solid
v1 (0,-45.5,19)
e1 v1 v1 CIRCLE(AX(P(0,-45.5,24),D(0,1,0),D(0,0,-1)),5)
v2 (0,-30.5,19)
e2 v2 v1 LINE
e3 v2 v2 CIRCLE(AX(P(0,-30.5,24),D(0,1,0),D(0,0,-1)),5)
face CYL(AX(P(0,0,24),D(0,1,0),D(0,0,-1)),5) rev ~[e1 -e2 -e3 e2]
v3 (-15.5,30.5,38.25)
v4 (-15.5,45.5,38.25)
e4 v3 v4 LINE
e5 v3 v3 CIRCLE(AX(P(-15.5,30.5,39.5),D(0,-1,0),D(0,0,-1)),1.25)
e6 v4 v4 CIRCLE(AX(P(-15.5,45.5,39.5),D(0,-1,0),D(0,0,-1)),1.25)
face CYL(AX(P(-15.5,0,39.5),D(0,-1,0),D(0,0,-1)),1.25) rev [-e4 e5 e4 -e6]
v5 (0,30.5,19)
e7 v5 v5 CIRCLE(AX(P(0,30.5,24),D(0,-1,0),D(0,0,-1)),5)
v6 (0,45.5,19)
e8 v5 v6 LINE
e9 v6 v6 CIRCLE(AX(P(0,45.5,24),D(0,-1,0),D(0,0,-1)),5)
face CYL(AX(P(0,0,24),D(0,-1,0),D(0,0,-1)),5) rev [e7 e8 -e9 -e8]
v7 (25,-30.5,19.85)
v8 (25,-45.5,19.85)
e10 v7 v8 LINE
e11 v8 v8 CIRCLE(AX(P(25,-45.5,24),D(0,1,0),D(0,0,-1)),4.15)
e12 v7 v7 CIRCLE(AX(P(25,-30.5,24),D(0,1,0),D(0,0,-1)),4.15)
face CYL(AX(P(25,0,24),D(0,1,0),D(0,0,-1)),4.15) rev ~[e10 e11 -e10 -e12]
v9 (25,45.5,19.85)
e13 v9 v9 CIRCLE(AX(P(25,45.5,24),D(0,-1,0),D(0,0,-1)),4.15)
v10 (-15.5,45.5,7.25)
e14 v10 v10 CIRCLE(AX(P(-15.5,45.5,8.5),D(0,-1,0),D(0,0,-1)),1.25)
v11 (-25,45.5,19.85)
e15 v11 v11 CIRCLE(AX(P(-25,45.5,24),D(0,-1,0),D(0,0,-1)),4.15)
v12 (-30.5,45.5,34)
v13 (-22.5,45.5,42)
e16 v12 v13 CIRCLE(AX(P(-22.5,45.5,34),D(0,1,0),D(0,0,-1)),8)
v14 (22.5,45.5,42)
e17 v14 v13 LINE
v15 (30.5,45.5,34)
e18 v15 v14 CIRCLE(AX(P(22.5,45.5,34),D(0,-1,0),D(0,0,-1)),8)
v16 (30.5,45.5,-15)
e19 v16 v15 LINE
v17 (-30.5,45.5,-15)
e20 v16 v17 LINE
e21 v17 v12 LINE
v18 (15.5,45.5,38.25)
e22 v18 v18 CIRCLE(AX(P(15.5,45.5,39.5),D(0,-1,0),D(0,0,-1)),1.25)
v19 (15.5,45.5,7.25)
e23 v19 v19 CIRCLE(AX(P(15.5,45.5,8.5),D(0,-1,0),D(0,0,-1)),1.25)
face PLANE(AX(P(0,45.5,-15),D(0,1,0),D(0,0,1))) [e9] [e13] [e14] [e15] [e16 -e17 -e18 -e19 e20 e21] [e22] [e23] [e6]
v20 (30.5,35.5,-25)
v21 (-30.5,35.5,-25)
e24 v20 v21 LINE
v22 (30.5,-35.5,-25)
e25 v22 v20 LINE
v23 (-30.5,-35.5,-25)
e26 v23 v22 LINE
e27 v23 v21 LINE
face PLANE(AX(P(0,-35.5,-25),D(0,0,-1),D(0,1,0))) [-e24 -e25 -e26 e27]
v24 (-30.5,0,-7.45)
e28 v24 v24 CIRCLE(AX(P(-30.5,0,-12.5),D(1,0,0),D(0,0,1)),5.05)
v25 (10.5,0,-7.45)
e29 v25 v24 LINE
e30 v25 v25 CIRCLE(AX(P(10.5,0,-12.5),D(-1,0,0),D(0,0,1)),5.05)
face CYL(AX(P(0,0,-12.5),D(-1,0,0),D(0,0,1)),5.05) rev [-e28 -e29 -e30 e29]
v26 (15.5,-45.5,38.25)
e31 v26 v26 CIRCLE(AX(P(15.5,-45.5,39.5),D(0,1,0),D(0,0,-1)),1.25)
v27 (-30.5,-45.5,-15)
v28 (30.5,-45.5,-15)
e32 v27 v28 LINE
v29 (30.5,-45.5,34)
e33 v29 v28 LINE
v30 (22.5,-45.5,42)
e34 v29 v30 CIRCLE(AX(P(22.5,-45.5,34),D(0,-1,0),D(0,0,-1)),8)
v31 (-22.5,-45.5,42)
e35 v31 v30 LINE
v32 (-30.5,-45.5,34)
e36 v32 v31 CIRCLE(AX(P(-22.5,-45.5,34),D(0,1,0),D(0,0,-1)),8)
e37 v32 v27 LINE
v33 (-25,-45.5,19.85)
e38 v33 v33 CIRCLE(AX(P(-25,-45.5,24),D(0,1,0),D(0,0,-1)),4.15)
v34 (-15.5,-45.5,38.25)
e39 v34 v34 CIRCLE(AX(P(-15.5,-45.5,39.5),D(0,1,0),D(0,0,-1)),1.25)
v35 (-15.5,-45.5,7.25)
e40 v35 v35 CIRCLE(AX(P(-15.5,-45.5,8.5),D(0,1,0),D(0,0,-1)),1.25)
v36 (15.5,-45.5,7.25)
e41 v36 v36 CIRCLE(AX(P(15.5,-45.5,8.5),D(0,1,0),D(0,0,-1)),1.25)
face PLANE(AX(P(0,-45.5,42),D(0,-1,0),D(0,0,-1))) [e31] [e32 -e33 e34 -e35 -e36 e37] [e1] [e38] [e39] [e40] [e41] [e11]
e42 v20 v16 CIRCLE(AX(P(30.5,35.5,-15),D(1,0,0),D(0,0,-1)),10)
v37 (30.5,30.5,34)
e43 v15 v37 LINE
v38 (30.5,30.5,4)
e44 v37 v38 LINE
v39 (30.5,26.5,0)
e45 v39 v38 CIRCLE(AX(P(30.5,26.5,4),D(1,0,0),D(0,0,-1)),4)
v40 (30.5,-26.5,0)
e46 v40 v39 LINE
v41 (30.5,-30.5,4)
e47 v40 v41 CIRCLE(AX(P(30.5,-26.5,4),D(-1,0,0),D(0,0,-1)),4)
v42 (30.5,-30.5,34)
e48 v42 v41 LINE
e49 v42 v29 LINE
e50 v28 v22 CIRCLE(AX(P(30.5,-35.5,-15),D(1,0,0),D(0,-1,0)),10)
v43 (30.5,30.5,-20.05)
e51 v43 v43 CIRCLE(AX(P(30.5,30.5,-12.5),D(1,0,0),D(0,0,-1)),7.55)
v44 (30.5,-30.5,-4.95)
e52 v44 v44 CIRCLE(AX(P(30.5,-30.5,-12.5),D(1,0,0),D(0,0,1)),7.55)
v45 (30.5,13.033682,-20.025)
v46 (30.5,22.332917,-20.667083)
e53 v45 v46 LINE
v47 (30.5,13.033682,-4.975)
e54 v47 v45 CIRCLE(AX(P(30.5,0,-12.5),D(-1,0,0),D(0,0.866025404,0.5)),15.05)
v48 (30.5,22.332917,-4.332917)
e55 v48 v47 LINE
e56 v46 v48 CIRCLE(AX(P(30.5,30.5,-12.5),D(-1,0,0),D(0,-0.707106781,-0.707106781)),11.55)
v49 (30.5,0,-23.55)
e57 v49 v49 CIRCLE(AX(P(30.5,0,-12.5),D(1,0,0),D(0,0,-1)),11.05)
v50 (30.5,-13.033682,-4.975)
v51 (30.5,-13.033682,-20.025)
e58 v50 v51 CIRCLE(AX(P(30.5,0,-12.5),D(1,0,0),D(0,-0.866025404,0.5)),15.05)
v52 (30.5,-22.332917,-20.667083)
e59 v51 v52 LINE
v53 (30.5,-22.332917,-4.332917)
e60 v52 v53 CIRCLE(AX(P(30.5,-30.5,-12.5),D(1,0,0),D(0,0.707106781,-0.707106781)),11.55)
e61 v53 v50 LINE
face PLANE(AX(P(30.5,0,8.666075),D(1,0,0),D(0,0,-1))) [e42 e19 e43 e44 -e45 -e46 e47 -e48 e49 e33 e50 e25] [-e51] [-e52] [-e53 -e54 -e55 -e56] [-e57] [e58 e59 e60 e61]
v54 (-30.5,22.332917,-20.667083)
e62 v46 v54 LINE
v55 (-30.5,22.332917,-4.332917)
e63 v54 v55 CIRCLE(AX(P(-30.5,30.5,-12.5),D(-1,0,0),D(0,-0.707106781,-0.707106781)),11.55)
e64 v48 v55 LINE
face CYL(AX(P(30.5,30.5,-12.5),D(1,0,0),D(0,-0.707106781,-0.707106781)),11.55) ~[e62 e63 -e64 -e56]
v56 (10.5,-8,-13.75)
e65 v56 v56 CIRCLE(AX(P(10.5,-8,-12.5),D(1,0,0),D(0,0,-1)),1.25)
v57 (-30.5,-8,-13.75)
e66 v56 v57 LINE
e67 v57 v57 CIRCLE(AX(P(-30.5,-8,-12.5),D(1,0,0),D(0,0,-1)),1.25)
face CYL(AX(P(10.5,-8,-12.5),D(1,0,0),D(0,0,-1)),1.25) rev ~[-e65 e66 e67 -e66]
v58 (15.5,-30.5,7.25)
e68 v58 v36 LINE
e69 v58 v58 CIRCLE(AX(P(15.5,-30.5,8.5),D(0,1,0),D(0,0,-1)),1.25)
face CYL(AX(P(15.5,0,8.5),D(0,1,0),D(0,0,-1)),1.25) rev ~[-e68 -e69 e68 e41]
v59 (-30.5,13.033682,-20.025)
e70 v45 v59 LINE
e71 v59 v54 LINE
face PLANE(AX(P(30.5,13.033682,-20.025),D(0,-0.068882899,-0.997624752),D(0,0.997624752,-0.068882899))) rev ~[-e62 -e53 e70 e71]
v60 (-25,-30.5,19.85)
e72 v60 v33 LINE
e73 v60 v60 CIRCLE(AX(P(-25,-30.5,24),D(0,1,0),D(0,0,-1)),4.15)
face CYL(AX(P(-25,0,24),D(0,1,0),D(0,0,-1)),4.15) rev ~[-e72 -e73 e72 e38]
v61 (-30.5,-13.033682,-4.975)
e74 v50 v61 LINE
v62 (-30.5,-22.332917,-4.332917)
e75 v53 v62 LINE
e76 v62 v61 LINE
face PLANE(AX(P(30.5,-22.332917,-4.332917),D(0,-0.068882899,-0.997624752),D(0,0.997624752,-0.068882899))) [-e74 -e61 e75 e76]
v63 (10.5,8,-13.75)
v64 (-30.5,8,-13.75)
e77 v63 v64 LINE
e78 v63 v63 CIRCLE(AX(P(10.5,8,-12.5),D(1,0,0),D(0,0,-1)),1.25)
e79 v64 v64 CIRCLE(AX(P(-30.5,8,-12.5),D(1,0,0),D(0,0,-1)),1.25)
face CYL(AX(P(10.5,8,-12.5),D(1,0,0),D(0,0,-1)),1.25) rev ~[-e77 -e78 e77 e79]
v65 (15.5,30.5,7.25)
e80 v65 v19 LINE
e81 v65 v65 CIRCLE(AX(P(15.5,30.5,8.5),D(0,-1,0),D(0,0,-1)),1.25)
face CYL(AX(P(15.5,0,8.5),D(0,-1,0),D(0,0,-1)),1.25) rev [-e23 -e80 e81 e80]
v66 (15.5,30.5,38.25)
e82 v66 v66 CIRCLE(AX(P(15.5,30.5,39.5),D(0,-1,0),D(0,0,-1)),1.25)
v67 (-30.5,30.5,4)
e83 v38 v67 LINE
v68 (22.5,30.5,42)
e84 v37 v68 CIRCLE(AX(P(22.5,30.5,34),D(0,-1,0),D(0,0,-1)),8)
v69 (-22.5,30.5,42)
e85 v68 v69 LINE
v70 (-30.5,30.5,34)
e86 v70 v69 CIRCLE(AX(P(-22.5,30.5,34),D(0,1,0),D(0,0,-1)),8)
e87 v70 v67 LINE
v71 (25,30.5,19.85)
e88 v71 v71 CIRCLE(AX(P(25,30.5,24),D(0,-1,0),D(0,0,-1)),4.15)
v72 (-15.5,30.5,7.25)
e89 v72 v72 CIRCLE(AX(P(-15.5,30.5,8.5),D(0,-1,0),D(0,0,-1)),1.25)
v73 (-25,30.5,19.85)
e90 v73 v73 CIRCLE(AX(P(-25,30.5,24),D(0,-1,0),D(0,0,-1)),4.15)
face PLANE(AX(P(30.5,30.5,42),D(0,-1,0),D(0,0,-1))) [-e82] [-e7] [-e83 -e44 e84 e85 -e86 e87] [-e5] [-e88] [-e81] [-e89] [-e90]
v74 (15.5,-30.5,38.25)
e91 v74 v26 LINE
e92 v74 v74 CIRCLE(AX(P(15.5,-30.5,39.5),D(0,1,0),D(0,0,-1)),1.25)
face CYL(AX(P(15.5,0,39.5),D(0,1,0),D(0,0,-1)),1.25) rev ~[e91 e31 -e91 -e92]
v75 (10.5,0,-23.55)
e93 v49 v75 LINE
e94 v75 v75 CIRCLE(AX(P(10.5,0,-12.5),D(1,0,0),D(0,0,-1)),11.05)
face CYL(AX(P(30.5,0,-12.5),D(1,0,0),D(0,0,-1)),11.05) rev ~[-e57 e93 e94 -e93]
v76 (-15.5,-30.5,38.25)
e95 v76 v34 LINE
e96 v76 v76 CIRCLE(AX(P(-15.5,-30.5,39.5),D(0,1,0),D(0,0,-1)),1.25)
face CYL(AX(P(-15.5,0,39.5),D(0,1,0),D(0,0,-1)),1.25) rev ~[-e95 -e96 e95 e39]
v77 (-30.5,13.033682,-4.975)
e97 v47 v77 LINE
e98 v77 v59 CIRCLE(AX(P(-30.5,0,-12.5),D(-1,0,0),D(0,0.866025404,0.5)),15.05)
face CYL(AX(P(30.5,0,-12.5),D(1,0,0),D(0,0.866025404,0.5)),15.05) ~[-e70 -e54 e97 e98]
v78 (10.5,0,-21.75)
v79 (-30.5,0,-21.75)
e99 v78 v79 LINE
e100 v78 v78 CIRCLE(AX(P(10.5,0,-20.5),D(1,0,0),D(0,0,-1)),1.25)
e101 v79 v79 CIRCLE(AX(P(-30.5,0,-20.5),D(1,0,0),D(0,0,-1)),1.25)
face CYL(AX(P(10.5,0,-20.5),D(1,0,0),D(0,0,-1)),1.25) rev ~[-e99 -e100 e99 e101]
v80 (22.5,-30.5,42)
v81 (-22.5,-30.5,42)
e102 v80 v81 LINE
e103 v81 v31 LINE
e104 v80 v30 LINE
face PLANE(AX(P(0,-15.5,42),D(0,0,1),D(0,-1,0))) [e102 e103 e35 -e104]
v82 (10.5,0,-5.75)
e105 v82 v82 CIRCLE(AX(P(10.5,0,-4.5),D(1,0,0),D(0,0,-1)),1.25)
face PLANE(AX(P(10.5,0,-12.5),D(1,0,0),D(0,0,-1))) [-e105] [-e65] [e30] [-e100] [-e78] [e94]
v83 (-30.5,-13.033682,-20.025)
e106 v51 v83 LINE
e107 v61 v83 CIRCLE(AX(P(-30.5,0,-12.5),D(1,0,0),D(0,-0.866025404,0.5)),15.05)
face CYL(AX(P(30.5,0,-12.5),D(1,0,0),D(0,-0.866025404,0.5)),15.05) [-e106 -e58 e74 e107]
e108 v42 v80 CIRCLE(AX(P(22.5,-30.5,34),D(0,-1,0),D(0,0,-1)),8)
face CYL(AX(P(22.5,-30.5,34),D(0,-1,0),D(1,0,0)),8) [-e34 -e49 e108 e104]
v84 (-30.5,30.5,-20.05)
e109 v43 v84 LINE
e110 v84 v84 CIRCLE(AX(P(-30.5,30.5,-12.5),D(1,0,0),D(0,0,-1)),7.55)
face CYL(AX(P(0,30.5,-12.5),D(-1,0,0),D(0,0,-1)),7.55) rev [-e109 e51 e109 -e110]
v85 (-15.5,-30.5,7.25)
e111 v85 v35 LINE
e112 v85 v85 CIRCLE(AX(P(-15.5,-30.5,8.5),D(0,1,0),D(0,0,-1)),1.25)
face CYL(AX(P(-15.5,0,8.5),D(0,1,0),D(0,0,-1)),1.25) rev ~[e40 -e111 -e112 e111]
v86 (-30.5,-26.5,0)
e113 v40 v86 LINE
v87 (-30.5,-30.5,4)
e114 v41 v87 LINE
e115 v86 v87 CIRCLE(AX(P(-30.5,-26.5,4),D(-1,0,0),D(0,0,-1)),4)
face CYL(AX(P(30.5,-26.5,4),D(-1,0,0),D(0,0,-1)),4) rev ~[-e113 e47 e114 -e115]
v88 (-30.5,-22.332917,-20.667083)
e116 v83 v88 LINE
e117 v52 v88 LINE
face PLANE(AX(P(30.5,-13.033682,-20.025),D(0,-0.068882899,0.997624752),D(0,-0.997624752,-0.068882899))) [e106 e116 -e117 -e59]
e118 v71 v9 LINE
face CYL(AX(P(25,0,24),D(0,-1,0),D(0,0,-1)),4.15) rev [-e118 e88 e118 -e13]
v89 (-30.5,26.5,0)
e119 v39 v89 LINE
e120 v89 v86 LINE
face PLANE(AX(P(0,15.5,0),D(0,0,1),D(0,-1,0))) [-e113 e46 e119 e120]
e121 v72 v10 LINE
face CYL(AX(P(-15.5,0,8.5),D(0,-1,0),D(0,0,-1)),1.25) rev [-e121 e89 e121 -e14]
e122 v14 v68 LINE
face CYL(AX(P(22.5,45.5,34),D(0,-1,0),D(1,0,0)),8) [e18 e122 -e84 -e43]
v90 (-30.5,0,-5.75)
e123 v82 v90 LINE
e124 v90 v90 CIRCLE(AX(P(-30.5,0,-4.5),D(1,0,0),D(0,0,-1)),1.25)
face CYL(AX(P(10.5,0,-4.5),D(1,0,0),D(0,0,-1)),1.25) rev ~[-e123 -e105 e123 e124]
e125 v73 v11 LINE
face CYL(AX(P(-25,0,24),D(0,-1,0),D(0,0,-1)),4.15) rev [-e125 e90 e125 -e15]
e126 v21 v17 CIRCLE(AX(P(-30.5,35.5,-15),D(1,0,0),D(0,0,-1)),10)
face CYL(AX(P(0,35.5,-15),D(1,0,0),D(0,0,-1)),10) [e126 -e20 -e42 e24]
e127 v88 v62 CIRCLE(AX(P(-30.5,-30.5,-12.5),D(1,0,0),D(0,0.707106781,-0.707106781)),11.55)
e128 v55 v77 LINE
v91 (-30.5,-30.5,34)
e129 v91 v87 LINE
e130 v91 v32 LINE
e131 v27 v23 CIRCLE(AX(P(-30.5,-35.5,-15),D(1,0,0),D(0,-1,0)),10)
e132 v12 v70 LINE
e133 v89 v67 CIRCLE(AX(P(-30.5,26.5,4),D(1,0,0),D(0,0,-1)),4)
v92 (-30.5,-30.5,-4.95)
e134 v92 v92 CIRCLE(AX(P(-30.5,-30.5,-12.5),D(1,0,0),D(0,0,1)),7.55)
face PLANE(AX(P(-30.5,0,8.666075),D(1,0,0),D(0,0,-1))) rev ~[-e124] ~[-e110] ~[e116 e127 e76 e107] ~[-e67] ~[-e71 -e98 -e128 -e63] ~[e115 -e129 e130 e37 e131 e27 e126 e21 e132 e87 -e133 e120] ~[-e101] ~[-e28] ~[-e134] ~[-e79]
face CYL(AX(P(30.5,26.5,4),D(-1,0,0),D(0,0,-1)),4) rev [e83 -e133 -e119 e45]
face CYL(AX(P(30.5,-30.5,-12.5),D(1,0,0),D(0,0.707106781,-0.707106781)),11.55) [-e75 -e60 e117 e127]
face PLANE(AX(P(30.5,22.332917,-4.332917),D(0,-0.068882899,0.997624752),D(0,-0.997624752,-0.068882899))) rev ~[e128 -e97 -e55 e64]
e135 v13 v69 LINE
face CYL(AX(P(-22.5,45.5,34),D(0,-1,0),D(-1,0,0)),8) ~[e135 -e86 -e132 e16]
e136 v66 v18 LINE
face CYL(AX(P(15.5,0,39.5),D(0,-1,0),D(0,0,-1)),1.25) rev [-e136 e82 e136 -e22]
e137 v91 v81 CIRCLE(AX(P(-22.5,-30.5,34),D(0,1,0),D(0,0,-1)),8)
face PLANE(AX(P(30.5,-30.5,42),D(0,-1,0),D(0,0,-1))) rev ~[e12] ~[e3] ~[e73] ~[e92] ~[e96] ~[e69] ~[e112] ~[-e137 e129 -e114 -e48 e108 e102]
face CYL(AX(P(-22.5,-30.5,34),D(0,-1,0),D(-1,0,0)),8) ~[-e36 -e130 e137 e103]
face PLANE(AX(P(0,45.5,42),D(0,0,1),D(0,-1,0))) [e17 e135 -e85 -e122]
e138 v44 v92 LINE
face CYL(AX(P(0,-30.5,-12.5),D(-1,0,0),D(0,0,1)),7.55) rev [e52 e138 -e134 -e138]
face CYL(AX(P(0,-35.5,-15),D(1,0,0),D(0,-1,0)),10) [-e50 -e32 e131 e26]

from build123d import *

# Parameters (mm, degrees)
SKETCH1_R                      = 5.05
SKETCH1_R_2                    = 7.55
BOSS_EXTRUDE1_DEPTH            = 30.5
CUT_EXTRUDE1_REACH             = 47.5
SKETCH2_R                      = 5
SKETCH2_R_2                    = 4.15
SKETCH2_R_3                    = 1.25
CUT_EXTRUDE1_DIRECTION_2_REACH = 47.5
CROQUIS4_W                     = 42
CROQUIS4_H                     = 61
CORTAR_EXTRUIR1_DEPTH          = 62
REDONDEO4_R                    = 4
REDONDEO5_R                    = 8
CROQUIS5_R                     = 11.05
CORTAR_EXTRUIR2_DEPTH          = 20
CROQUIS6_R                     = 1.25
CORTAR_EXTRUIR3_DEPTH          = 42
CORTAR_EXTRUIR4_DEPTH          = 61


with BuildPart() as part:
    # Sketch1 → Boss-Extrude1 (new body, symmetric)
    with BuildSketch(Plane(origin=(0, 0, 0), x_dir=(0, 0, -1), z_dir=(1, 0, 0))):
        with BuildLine():
            Line((0, 15.5), (0, -15.5))
            Line((0, -15.5), (-42, -15.5))
            Line((-42, -15.5), (-42, -45.5))
            Line((-42, -45.5), (15, -45.5))
            ThreePointArc((15, -45.5), (22.071067812, -42.571067812), (25, -35.5))
            Line((25, -35.5), (25, 35.5))
            ThreePointArc((25, 35.5), (22.071067812, 42.571067812), (15, 45.5))
            Line((15, 45.5), (-42, 45.5))
            Line((-42, 45.5), (-42, 15.5))
            Line((-42, 15.5), (0, 15.5))
        make_face()
        with Locations(Location((12.5, 0, 0), (0, 0, 180))):  # turned: the seam where the file's is
            Circle(SKETCH1_R, mode=Mode.SUBTRACT)
        with Locations((12.5, 30.5)):
            Circle(SKETCH1_R_2, mode=Mode.SUBTRACT)
        with Locations(Location((12.5, -30.5, 0), (0, 0, 180))):  # turned: the seam where the file's is
            Circle(SKETCH1_R_2, mode=Mode.SUBTRACT)
    extrude(amount=BOSS_EXTRUDE1_DEPTH, both=True)

    # Cut-Extrude1: up to this face of the body (flat: up to its plane)
    cut_extrude1_end = Plane(part.part.faces().sort_by_distance((0, 45.5, 13.5))[0])
    # Sketch2 → Cut-Extrude1 (cut, up to the picked face)
    with BuildSketch(Plane(origin=(0, 0, 0), x_dir=(1, 0, 0), z_dir=(0, 1, 0)), mode=Mode.PRIVATE) as cut_extrude1_sk1:
        with Locations(Location((0, -24, 0), (0, 0, 90))):  # turned: the seam where the file's is
            Circle(SKETCH2_R)
    cut_extrude1_tool1 = split(extrude(cut_extrude1_sk1.sketch, amount=CUT_EXTRUDE1_REACH, mode=Mode.PRIVATE), bisect_by=cut_extrude1_end, keep=Keep.BOTH, mode=Mode.PRIVATE)
    add(cut_extrude1_tool1.solids().sort_by(Axis((0, 0, 24), (0, 1, 0)))[0], mode=Mode.SUBTRACT)
    # Sketch2 → Cut-Extrude1 (cut, up to the picked face)
    with BuildSketch(Plane(origin=(0, 0, 0), x_dir=(1, 0, 0), z_dir=(0, 1, 0)), mode=Mode.PRIVATE) as cut_extrude1_sk2:
        with Locations(Location((25, -24, 0), (0, 0, 90))):  # turned: the seam where the file's is
            Circle(SKETCH2_R_2)
    cut_extrude1_tool2 = split(extrude(cut_extrude1_sk2.sketch, amount=CUT_EXTRUDE1_REACH, mode=Mode.PRIVATE), bisect_by=cut_extrude1_end, keep=Keep.BOTH, mode=Mode.PRIVATE)
    add(cut_extrude1_tool2.solids().sort_by(Axis((25, 0, 24), (0, 1, 0)))[0], mode=Mode.SUBTRACT)
    # Sketch2 → Cut-Extrude1 (cut, up to the picked face)
    with BuildSketch(Plane(origin=(0, 0, 0), x_dir=(1, 0, 0), z_dir=(0, 1, 0)), mode=Mode.PRIVATE) as cut_extrude1_sk3:
        with Locations(Location((-25, -24, 0), (0, 0, 90))):  # turned: the seam where the file's is
            Circle(SKETCH2_R_2)
    cut_extrude1_tool3 = split(extrude(cut_extrude1_sk3.sketch, amount=CUT_EXTRUDE1_REACH, mode=Mode.PRIVATE), bisect_by=cut_extrude1_end, keep=Keep.BOTH, mode=Mode.PRIVATE)
    add(cut_extrude1_tool3.solids().sort_by(Axis((-25, 0, 24), (0, 1, 0)))[0], mode=Mode.SUBTRACT)
    # Sketch2 → Cut-Extrude1 (cut, up to the picked face)
    with BuildSketch(Plane(origin=(0, 0, 0), x_dir=(1, 0, 0), z_dir=(0, 1, 0)), mode=Mode.PRIVATE) as cut_extrude1_sk4:
        with Locations(Location((15.5, -39.5, 0), (0, 0, 90))):  # turned: the seam where the file's is
            Circle(SKETCH2_R_3)
    cut_extrude1_tool4 = split(extrude(cut_extrude1_sk4.sketch, amount=CUT_EXTRUDE1_REACH, mode=Mode.PRIVATE), bisect_by=cut_extrude1_end, keep=Keep.BOTH, mode=Mode.PRIVATE)
    add(cut_extrude1_tool4.solids().sort_by(Axis((15.5, 0, 39.5), (0, 1, 0)))[0], mode=Mode.SUBTRACT)
    # Sketch2 → Cut-Extrude1 (cut, up to the picked face)
    with BuildSketch(Plane(origin=(0, 0, 0), x_dir=(1, 0, 0), z_dir=(0, 1, 0)), mode=Mode.PRIVATE) as cut_extrude1_sk5:
        with Locations(Location((-15.5, -39.5, 0), (0, 0, 90))):  # turned: the seam where the file's is
            Circle(SKETCH2_R_3)
    cut_extrude1_tool5 = split(extrude(cut_extrude1_sk5.sketch, amount=CUT_EXTRUDE1_REACH, mode=Mode.PRIVATE), bisect_by=cut_extrude1_end, keep=Keep.BOTH, mode=Mode.PRIVATE)
    add(cut_extrude1_tool5.solids().sort_by(Axis((-15.5, 0, 39.5), (0, 1, 0)))[0], mode=Mode.SUBTRACT)
    # Sketch2 → Cut-Extrude1 (cut, up to the picked face)
    with BuildSketch(Plane(origin=(0, 0, 0), x_dir=(1, 0, 0), z_dir=(0, 1, 0)), mode=Mode.PRIVATE) as cut_extrude1_sk6:
        with Locations(Location((-15.5, -8.5, 0), (0, 0, 90))):  # turned: the seam where the file's is
            Circle(SKETCH2_R_3)
    cut_extrude1_tool6 = split(extrude(cut_extrude1_sk6.sketch, amount=CUT_EXTRUDE1_REACH, mode=Mode.PRIVATE), bisect_by=cut_extrude1_end, keep=Keep.BOTH, mode=Mode.PRIVATE)
    add(cut_extrude1_tool6.solids().sort_by(Axis((-15.5, 0, 8.5), (0, 1, 0)))[0], mode=Mode.SUBTRACT)
    # Sketch2 → Cut-Extrude1 (cut, up to the picked face)
    with BuildSketch(Plane(origin=(0, 0, 0), x_dir=(1, 0, 0), z_dir=(0, 1, 0)), mode=Mode.PRIVATE) as cut_extrude1_sk7:
        with Locations(Location((15.5, -8.5, 0), (0, 0, 90))):  # turned: the seam where the file's is
            Circle(SKETCH2_R_3)
    cut_extrude1_tool7 = split(extrude(cut_extrude1_sk7.sketch, amount=CUT_EXTRUDE1_REACH, mode=Mode.PRIVATE), bisect_by=cut_extrude1_end, keep=Keep.BOTH, mode=Mode.PRIVATE)
    add(cut_extrude1_tool7.solids().sort_by(Axis((15.5, 0, 8.5), (0, 1, 0)))[0], mode=Mode.SUBTRACT)

    # Cut-Extrude1 direction 2: up to this face of the body (flat: up to its plane)
    cut_extrude1_direction_2_end = Plane(part.part.faces().sort_by_distance((0, -45.5, 13.5))[0])
    # Sketch2 → Cut-Extrude1 direction 2 (cut, up to the picked face)
    with BuildSketch(Plane(origin=(0, 0, 0), x_dir=(1, 0, 0), z_dir=(0, 1, 0)), mode=Mode.PRIVATE) as cut_extrude1_direction_2_sk1:
        with Locations(Location((0, -24, 0), (0, 0, 90))):  # turned: the seam where the file's is
            Circle(SKETCH2_R)
    cut_extrude1_direction_2_tool1 = split(extrude(cut_extrude1_direction_2_sk1.sketch, amount=-CUT_EXTRUDE1_DIRECTION_2_REACH, mode=Mode.PRIVATE), bisect_by=cut_extrude1_direction_2_end, keep=Keep.BOTH, mode=Mode.PRIVATE)
    add(cut_extrude1_direction_2_tool1.solids().sort_by(Axis((0, 0, 24), (0, -1, 0)))[0], mode=Mode.SUBTRACT)
    # Sketch2 → Cut-Extrude1 direction 2 (cut, up to the picked face)
    with BuildSketch(Plane(origin=(0, 0, 0), x_dir=(1, 0, 0), z_dir=(0, 1, 0)), mode=Mode.PRIVATE) as cut_extrude1_direction_2_sk2:
        with Locations(Location((25, -24, 0), (0, 0, 90))):  # turned: the seam where the file's is
            Circle(SKETCH2_R_2)
    cut_extrude1_direction_2_tool2 = split(extrude(cut_extrude1_direction_2_sk2.sketch, amount=-CUT_EXTRUDE1_DIRECTION_2_REACH, mode=Mode.PRIVATE), bisect_by=cut_extrude1_direction_2_end, keep=Keep.BOTH, mode=Mode.PRIVATE)
    add(cut_extrude1_direction_2_tool2.solids().sort_by(Axis((25, 0, 24), (0, -1, 0)))[0], mode=Mode.SUBTRACT)
    # Sketch2 → Cut-Extrude1 direction 2 (cut, up to the picked face)
    with BuildSketch(Plane(origin=(0, 0, 0), x_dir=(1, 0, 0), z_dir=(0, 1, 0)), mode=Mode.PRIVATE) as cut_extrude1_direction_2_sk3:
        with Locations(Location((-25, -24, 0), (0, 0, 90))):  # turned: the seam where the file's is
            Circle(SKETCH2_R_2)
    cut_extrude1_direction_2_tool3 = split(extrude(cut_extrude1_direction_2_sk3.sketch, amount=-CUT_EXTRUDE1_DIRECTION_2_REACH, mode=Mode.PRIVATE), bisect_by=cut_extrude1_direction_2_end, keep=Keep.BOTH, mode=Mode.PRIVATE)
    add(cut_extrude1_direction_2_tool3.solids().sort_by(Axis((-25, 0, 24), (0, -1, 0)))[0], mode=Mode.SUBTRACT)
    # Sketch2 → Cut-Extrude1 direction 2 (cut, up to the picked face)
    with BuildSketch(Plane(origin=(0, 0, 0), x_dir=(1, 0, 0), z_dir=(0, 1, 0)), mode=Mode.PRIVATE) as cut_extrude1_direction_2_sk4:
        with Locations(Location((15.5, -39.5, 0), (0, 0, 90))):  # turned: the seam where the file's is
            Circle(SKETCH2_R_3)
    cut_extrude1_direction_2_tool4 = split(extrude(cut_extrude1_direction_2_sk4.sketch, amount=-CUT_EXTRUDE1_DIRECTION_2_REACH, mode=Mode.PRIVATE), bisect_by=cut_extrude1_direction_2_end, keep=Keep.BOTH, mode=Mode.PRIVATE)
    add(cut_extrude1_direction_2_tool4.solids().sort_by(Axis((15.5, 0, 39.5), (0, -1, 0)))[0], mode=Mode.SUBTRACT)
    # Sketch2 → Cut-Extrude1 direction 2 (cut, up to the picked face)
    with BuildSketch(Plane(origin=(0, 0, 0), x_dir=(1, 0, 0), z_dir=(0, 1, 0)), mode=Mode.PRIVATE) as cut_extrude1_direction_2_sk5:
        with Locations(Location((-15.5, -39.5, 0), (0, 0, 90))):  # turned: the seam where the file's is
            Circle(SKETCH2_R_3)
    cut_extrude1_direction_2_tool5 = split(extrude(cut_extrude1_direction_2_sk5.sketch, amount=-CUT_EXTRUDE1_DIRECTION_2_REACH, mode=Mode.PRIVATE), bisect_by=cut_extrude1_direction_2_end, keep=Keep.BOTH, mode=Mode.PRIVATE)
    add(cut_extrude1_direction_2_tool5.solids().sort_by(Axis((-15.5, 0, 39.5), (0, -1, 0)))[0], mode=Mode.SUBTRACT)
    # Sketch2 → Cut-Extrude1 direction 2 (cut, up to the picked face)
    with BuildSketch(Plane(origin=(0, 0, 0), x_dir=(1, 0, 0), z_dir=(0, 1, 0)), mode=Mode.PRIVATE) as cut_extrude1_direction_2_sk6:
        with Locations(Location((-15.5, -8.5, 0), (0, 0, 90))):  # turned: the seam where the file's is
            Circle(SKETCH2_R_3)
    cut_extrude1_direction_2_tool6 = split(extrude(cut_extrude1_direction_2_sk6.sketch, amount=-CUT_EXTRUDE1_DIRECTION_2_REACH, mode=Mode.PRIVATE), bisect_by=cut_extrude1_direction_2_end, keep=Keep.BOTH, mode=Mode.PRIVATE)
    add(cut_extrude1_direction_2_tool6.solids().sort_by(Axis((-15.5, 0, 8.5), (0, -1, 0)))[0], mode=Mode.SUBTRACT)
    # Sketch2 → Cut-Extrude1 direction 2 (cut, up to the picked face)
    with BuildSketch(Plane(origin=(0, 0, 0), x_dir=(1, 0, 0), z_dir=(0, 1, 0)), mode=Mode.PRIVATE) as cut_extrude1_direction_2_sk7:
        with Locations(Location((15.5, -8.5, 0), (0, 0, 90))):  # turned: the seam where the file's is
            Circle(SKETCH2_R_3)
    cut_extrude1_direction_2_tool7 = split(extrude(cut_extrude1_direction_2_sk7.sketch, amount=-CUT_EXTRUDE1_DIRECTION_2_REACH, mode=Mode.PRIVATE), bisect_by=cut_extrude1_direction_2_end, keep=Keep.BOTH, mode=Mode.PRIVATE)
    add(cut_extrude1_direction_2_tool7.solids().sort_by(Axis((15.5, 0, 8.5), (0, -1, 0)))[0], mode=Mode.SUBTRACT)

    # Croquis4 → Cortar-Extruir1 (cut, through all)
    with BuildSketch(Plane(origin=(30.5, 0, 0), x_dir=(0, 0, -1), z_dir=(1, 0, 0))):
        with Locations((-21, 0)):
            Rectangle(CROQUIS4_W, CROQUIS4_H)
    extrude(amount=-CORTAR_EXTRUIR1_DEPTH, mode=Mode.SUBTRACT)

    # Redondeo4
    redondeo4_edges = [part.edges().sort_by_distance(p)[0] for p in [
        (0, 30.5, 0),
        (0, -30.5, 0),
    ]]
    fillet(redondeo4_edges, radius=REDONDEO4_R)

    # Redondeo5
    redondeo5_edges = [part.edges().sort_by_distance(p)[0] for p in [
        (-30.5, 38, 42),
        (-30.5, -38, 42),
        (30.5, -38, 42),
        (30.5, 38, 42),
    ]]
    fillet(redondeo5_edges, radius=REDONDEO5_R)

    # Croquis5 → Cortar-Extruir2 (cut)
    with BuildSketch(Plane(origin=(30.5, 0, 0), x_dir=(0, 0, -1), z_dir=(1, 0, 0))):
        with Locations((12.5, 0)):
            Circle(CROQUIS5_R)
    extrude(amount=-CORTAR_EXTRUIR2_DEPTH, mode=Mode.SUBTRACT)

    # Croquis6 → Cortar-Extruir3 (cut, through all)
    with BuildSketch(Plane(origin=(10.5, 0, 0), x_dir=(0, 0, -1), z_dir=(1, 0, 0))):
        with Locations((12.5, 8)):
            Circle(CROQUIS6_R)
        with Locations((20.5, 0)):
            Circle(CROQUIS6_R)
        with Locations((12.5, -8)):
            Circle(CROQUIS6_R)
        with Locations((4.5, 0)):
            Circle(CROQUIS6_R)
    extrude(amount=-CORTAR_EXTRUIR3_DEPTH, mode=Mode.SUBTRACT)

    # Croquis8 → Cortar-Extruir4 (cut)
    with BuildSketch(Plane(origin=(30.5, 0, 0), x_dir=(0, 0, -1), z_dir=(1, 0, 0))):
        with BuildLine():
            Line((4.332916677, 22.332916677), (4.975, 13.033682327))
            ThreePointArc((4.975, 13.033682327), (12.5, 15.05), (20.025, 13.033682327))
            Line((20.025, 13.033682327), (20.667083323, 22.332916677))
            ThreePointArc((20.667083323, 22.332916677), (12.5, 18.95), (4.332916677, 22.332916677))
        make_face()
        with BuildLine():
            Line((4.332916677, -22.332916677), (4.975, -13.033682327))
            ThreePointArc((4.975, -13.033682327), (12.5, -15.05), (20.025, -13.033682327))
            Line((20.025, -13.033682327), (20.667083323, -22.332916677))
            ThreePointArc((20.667083323, -22.332916677), (12.5, -18.95), (4.332916677, -22.332916677))
        make_face()
    extrude(amount=-CORTAR_EXTRUIR4_DEPTH, mode=Mode.SUBTRACT)


solid = part.part
